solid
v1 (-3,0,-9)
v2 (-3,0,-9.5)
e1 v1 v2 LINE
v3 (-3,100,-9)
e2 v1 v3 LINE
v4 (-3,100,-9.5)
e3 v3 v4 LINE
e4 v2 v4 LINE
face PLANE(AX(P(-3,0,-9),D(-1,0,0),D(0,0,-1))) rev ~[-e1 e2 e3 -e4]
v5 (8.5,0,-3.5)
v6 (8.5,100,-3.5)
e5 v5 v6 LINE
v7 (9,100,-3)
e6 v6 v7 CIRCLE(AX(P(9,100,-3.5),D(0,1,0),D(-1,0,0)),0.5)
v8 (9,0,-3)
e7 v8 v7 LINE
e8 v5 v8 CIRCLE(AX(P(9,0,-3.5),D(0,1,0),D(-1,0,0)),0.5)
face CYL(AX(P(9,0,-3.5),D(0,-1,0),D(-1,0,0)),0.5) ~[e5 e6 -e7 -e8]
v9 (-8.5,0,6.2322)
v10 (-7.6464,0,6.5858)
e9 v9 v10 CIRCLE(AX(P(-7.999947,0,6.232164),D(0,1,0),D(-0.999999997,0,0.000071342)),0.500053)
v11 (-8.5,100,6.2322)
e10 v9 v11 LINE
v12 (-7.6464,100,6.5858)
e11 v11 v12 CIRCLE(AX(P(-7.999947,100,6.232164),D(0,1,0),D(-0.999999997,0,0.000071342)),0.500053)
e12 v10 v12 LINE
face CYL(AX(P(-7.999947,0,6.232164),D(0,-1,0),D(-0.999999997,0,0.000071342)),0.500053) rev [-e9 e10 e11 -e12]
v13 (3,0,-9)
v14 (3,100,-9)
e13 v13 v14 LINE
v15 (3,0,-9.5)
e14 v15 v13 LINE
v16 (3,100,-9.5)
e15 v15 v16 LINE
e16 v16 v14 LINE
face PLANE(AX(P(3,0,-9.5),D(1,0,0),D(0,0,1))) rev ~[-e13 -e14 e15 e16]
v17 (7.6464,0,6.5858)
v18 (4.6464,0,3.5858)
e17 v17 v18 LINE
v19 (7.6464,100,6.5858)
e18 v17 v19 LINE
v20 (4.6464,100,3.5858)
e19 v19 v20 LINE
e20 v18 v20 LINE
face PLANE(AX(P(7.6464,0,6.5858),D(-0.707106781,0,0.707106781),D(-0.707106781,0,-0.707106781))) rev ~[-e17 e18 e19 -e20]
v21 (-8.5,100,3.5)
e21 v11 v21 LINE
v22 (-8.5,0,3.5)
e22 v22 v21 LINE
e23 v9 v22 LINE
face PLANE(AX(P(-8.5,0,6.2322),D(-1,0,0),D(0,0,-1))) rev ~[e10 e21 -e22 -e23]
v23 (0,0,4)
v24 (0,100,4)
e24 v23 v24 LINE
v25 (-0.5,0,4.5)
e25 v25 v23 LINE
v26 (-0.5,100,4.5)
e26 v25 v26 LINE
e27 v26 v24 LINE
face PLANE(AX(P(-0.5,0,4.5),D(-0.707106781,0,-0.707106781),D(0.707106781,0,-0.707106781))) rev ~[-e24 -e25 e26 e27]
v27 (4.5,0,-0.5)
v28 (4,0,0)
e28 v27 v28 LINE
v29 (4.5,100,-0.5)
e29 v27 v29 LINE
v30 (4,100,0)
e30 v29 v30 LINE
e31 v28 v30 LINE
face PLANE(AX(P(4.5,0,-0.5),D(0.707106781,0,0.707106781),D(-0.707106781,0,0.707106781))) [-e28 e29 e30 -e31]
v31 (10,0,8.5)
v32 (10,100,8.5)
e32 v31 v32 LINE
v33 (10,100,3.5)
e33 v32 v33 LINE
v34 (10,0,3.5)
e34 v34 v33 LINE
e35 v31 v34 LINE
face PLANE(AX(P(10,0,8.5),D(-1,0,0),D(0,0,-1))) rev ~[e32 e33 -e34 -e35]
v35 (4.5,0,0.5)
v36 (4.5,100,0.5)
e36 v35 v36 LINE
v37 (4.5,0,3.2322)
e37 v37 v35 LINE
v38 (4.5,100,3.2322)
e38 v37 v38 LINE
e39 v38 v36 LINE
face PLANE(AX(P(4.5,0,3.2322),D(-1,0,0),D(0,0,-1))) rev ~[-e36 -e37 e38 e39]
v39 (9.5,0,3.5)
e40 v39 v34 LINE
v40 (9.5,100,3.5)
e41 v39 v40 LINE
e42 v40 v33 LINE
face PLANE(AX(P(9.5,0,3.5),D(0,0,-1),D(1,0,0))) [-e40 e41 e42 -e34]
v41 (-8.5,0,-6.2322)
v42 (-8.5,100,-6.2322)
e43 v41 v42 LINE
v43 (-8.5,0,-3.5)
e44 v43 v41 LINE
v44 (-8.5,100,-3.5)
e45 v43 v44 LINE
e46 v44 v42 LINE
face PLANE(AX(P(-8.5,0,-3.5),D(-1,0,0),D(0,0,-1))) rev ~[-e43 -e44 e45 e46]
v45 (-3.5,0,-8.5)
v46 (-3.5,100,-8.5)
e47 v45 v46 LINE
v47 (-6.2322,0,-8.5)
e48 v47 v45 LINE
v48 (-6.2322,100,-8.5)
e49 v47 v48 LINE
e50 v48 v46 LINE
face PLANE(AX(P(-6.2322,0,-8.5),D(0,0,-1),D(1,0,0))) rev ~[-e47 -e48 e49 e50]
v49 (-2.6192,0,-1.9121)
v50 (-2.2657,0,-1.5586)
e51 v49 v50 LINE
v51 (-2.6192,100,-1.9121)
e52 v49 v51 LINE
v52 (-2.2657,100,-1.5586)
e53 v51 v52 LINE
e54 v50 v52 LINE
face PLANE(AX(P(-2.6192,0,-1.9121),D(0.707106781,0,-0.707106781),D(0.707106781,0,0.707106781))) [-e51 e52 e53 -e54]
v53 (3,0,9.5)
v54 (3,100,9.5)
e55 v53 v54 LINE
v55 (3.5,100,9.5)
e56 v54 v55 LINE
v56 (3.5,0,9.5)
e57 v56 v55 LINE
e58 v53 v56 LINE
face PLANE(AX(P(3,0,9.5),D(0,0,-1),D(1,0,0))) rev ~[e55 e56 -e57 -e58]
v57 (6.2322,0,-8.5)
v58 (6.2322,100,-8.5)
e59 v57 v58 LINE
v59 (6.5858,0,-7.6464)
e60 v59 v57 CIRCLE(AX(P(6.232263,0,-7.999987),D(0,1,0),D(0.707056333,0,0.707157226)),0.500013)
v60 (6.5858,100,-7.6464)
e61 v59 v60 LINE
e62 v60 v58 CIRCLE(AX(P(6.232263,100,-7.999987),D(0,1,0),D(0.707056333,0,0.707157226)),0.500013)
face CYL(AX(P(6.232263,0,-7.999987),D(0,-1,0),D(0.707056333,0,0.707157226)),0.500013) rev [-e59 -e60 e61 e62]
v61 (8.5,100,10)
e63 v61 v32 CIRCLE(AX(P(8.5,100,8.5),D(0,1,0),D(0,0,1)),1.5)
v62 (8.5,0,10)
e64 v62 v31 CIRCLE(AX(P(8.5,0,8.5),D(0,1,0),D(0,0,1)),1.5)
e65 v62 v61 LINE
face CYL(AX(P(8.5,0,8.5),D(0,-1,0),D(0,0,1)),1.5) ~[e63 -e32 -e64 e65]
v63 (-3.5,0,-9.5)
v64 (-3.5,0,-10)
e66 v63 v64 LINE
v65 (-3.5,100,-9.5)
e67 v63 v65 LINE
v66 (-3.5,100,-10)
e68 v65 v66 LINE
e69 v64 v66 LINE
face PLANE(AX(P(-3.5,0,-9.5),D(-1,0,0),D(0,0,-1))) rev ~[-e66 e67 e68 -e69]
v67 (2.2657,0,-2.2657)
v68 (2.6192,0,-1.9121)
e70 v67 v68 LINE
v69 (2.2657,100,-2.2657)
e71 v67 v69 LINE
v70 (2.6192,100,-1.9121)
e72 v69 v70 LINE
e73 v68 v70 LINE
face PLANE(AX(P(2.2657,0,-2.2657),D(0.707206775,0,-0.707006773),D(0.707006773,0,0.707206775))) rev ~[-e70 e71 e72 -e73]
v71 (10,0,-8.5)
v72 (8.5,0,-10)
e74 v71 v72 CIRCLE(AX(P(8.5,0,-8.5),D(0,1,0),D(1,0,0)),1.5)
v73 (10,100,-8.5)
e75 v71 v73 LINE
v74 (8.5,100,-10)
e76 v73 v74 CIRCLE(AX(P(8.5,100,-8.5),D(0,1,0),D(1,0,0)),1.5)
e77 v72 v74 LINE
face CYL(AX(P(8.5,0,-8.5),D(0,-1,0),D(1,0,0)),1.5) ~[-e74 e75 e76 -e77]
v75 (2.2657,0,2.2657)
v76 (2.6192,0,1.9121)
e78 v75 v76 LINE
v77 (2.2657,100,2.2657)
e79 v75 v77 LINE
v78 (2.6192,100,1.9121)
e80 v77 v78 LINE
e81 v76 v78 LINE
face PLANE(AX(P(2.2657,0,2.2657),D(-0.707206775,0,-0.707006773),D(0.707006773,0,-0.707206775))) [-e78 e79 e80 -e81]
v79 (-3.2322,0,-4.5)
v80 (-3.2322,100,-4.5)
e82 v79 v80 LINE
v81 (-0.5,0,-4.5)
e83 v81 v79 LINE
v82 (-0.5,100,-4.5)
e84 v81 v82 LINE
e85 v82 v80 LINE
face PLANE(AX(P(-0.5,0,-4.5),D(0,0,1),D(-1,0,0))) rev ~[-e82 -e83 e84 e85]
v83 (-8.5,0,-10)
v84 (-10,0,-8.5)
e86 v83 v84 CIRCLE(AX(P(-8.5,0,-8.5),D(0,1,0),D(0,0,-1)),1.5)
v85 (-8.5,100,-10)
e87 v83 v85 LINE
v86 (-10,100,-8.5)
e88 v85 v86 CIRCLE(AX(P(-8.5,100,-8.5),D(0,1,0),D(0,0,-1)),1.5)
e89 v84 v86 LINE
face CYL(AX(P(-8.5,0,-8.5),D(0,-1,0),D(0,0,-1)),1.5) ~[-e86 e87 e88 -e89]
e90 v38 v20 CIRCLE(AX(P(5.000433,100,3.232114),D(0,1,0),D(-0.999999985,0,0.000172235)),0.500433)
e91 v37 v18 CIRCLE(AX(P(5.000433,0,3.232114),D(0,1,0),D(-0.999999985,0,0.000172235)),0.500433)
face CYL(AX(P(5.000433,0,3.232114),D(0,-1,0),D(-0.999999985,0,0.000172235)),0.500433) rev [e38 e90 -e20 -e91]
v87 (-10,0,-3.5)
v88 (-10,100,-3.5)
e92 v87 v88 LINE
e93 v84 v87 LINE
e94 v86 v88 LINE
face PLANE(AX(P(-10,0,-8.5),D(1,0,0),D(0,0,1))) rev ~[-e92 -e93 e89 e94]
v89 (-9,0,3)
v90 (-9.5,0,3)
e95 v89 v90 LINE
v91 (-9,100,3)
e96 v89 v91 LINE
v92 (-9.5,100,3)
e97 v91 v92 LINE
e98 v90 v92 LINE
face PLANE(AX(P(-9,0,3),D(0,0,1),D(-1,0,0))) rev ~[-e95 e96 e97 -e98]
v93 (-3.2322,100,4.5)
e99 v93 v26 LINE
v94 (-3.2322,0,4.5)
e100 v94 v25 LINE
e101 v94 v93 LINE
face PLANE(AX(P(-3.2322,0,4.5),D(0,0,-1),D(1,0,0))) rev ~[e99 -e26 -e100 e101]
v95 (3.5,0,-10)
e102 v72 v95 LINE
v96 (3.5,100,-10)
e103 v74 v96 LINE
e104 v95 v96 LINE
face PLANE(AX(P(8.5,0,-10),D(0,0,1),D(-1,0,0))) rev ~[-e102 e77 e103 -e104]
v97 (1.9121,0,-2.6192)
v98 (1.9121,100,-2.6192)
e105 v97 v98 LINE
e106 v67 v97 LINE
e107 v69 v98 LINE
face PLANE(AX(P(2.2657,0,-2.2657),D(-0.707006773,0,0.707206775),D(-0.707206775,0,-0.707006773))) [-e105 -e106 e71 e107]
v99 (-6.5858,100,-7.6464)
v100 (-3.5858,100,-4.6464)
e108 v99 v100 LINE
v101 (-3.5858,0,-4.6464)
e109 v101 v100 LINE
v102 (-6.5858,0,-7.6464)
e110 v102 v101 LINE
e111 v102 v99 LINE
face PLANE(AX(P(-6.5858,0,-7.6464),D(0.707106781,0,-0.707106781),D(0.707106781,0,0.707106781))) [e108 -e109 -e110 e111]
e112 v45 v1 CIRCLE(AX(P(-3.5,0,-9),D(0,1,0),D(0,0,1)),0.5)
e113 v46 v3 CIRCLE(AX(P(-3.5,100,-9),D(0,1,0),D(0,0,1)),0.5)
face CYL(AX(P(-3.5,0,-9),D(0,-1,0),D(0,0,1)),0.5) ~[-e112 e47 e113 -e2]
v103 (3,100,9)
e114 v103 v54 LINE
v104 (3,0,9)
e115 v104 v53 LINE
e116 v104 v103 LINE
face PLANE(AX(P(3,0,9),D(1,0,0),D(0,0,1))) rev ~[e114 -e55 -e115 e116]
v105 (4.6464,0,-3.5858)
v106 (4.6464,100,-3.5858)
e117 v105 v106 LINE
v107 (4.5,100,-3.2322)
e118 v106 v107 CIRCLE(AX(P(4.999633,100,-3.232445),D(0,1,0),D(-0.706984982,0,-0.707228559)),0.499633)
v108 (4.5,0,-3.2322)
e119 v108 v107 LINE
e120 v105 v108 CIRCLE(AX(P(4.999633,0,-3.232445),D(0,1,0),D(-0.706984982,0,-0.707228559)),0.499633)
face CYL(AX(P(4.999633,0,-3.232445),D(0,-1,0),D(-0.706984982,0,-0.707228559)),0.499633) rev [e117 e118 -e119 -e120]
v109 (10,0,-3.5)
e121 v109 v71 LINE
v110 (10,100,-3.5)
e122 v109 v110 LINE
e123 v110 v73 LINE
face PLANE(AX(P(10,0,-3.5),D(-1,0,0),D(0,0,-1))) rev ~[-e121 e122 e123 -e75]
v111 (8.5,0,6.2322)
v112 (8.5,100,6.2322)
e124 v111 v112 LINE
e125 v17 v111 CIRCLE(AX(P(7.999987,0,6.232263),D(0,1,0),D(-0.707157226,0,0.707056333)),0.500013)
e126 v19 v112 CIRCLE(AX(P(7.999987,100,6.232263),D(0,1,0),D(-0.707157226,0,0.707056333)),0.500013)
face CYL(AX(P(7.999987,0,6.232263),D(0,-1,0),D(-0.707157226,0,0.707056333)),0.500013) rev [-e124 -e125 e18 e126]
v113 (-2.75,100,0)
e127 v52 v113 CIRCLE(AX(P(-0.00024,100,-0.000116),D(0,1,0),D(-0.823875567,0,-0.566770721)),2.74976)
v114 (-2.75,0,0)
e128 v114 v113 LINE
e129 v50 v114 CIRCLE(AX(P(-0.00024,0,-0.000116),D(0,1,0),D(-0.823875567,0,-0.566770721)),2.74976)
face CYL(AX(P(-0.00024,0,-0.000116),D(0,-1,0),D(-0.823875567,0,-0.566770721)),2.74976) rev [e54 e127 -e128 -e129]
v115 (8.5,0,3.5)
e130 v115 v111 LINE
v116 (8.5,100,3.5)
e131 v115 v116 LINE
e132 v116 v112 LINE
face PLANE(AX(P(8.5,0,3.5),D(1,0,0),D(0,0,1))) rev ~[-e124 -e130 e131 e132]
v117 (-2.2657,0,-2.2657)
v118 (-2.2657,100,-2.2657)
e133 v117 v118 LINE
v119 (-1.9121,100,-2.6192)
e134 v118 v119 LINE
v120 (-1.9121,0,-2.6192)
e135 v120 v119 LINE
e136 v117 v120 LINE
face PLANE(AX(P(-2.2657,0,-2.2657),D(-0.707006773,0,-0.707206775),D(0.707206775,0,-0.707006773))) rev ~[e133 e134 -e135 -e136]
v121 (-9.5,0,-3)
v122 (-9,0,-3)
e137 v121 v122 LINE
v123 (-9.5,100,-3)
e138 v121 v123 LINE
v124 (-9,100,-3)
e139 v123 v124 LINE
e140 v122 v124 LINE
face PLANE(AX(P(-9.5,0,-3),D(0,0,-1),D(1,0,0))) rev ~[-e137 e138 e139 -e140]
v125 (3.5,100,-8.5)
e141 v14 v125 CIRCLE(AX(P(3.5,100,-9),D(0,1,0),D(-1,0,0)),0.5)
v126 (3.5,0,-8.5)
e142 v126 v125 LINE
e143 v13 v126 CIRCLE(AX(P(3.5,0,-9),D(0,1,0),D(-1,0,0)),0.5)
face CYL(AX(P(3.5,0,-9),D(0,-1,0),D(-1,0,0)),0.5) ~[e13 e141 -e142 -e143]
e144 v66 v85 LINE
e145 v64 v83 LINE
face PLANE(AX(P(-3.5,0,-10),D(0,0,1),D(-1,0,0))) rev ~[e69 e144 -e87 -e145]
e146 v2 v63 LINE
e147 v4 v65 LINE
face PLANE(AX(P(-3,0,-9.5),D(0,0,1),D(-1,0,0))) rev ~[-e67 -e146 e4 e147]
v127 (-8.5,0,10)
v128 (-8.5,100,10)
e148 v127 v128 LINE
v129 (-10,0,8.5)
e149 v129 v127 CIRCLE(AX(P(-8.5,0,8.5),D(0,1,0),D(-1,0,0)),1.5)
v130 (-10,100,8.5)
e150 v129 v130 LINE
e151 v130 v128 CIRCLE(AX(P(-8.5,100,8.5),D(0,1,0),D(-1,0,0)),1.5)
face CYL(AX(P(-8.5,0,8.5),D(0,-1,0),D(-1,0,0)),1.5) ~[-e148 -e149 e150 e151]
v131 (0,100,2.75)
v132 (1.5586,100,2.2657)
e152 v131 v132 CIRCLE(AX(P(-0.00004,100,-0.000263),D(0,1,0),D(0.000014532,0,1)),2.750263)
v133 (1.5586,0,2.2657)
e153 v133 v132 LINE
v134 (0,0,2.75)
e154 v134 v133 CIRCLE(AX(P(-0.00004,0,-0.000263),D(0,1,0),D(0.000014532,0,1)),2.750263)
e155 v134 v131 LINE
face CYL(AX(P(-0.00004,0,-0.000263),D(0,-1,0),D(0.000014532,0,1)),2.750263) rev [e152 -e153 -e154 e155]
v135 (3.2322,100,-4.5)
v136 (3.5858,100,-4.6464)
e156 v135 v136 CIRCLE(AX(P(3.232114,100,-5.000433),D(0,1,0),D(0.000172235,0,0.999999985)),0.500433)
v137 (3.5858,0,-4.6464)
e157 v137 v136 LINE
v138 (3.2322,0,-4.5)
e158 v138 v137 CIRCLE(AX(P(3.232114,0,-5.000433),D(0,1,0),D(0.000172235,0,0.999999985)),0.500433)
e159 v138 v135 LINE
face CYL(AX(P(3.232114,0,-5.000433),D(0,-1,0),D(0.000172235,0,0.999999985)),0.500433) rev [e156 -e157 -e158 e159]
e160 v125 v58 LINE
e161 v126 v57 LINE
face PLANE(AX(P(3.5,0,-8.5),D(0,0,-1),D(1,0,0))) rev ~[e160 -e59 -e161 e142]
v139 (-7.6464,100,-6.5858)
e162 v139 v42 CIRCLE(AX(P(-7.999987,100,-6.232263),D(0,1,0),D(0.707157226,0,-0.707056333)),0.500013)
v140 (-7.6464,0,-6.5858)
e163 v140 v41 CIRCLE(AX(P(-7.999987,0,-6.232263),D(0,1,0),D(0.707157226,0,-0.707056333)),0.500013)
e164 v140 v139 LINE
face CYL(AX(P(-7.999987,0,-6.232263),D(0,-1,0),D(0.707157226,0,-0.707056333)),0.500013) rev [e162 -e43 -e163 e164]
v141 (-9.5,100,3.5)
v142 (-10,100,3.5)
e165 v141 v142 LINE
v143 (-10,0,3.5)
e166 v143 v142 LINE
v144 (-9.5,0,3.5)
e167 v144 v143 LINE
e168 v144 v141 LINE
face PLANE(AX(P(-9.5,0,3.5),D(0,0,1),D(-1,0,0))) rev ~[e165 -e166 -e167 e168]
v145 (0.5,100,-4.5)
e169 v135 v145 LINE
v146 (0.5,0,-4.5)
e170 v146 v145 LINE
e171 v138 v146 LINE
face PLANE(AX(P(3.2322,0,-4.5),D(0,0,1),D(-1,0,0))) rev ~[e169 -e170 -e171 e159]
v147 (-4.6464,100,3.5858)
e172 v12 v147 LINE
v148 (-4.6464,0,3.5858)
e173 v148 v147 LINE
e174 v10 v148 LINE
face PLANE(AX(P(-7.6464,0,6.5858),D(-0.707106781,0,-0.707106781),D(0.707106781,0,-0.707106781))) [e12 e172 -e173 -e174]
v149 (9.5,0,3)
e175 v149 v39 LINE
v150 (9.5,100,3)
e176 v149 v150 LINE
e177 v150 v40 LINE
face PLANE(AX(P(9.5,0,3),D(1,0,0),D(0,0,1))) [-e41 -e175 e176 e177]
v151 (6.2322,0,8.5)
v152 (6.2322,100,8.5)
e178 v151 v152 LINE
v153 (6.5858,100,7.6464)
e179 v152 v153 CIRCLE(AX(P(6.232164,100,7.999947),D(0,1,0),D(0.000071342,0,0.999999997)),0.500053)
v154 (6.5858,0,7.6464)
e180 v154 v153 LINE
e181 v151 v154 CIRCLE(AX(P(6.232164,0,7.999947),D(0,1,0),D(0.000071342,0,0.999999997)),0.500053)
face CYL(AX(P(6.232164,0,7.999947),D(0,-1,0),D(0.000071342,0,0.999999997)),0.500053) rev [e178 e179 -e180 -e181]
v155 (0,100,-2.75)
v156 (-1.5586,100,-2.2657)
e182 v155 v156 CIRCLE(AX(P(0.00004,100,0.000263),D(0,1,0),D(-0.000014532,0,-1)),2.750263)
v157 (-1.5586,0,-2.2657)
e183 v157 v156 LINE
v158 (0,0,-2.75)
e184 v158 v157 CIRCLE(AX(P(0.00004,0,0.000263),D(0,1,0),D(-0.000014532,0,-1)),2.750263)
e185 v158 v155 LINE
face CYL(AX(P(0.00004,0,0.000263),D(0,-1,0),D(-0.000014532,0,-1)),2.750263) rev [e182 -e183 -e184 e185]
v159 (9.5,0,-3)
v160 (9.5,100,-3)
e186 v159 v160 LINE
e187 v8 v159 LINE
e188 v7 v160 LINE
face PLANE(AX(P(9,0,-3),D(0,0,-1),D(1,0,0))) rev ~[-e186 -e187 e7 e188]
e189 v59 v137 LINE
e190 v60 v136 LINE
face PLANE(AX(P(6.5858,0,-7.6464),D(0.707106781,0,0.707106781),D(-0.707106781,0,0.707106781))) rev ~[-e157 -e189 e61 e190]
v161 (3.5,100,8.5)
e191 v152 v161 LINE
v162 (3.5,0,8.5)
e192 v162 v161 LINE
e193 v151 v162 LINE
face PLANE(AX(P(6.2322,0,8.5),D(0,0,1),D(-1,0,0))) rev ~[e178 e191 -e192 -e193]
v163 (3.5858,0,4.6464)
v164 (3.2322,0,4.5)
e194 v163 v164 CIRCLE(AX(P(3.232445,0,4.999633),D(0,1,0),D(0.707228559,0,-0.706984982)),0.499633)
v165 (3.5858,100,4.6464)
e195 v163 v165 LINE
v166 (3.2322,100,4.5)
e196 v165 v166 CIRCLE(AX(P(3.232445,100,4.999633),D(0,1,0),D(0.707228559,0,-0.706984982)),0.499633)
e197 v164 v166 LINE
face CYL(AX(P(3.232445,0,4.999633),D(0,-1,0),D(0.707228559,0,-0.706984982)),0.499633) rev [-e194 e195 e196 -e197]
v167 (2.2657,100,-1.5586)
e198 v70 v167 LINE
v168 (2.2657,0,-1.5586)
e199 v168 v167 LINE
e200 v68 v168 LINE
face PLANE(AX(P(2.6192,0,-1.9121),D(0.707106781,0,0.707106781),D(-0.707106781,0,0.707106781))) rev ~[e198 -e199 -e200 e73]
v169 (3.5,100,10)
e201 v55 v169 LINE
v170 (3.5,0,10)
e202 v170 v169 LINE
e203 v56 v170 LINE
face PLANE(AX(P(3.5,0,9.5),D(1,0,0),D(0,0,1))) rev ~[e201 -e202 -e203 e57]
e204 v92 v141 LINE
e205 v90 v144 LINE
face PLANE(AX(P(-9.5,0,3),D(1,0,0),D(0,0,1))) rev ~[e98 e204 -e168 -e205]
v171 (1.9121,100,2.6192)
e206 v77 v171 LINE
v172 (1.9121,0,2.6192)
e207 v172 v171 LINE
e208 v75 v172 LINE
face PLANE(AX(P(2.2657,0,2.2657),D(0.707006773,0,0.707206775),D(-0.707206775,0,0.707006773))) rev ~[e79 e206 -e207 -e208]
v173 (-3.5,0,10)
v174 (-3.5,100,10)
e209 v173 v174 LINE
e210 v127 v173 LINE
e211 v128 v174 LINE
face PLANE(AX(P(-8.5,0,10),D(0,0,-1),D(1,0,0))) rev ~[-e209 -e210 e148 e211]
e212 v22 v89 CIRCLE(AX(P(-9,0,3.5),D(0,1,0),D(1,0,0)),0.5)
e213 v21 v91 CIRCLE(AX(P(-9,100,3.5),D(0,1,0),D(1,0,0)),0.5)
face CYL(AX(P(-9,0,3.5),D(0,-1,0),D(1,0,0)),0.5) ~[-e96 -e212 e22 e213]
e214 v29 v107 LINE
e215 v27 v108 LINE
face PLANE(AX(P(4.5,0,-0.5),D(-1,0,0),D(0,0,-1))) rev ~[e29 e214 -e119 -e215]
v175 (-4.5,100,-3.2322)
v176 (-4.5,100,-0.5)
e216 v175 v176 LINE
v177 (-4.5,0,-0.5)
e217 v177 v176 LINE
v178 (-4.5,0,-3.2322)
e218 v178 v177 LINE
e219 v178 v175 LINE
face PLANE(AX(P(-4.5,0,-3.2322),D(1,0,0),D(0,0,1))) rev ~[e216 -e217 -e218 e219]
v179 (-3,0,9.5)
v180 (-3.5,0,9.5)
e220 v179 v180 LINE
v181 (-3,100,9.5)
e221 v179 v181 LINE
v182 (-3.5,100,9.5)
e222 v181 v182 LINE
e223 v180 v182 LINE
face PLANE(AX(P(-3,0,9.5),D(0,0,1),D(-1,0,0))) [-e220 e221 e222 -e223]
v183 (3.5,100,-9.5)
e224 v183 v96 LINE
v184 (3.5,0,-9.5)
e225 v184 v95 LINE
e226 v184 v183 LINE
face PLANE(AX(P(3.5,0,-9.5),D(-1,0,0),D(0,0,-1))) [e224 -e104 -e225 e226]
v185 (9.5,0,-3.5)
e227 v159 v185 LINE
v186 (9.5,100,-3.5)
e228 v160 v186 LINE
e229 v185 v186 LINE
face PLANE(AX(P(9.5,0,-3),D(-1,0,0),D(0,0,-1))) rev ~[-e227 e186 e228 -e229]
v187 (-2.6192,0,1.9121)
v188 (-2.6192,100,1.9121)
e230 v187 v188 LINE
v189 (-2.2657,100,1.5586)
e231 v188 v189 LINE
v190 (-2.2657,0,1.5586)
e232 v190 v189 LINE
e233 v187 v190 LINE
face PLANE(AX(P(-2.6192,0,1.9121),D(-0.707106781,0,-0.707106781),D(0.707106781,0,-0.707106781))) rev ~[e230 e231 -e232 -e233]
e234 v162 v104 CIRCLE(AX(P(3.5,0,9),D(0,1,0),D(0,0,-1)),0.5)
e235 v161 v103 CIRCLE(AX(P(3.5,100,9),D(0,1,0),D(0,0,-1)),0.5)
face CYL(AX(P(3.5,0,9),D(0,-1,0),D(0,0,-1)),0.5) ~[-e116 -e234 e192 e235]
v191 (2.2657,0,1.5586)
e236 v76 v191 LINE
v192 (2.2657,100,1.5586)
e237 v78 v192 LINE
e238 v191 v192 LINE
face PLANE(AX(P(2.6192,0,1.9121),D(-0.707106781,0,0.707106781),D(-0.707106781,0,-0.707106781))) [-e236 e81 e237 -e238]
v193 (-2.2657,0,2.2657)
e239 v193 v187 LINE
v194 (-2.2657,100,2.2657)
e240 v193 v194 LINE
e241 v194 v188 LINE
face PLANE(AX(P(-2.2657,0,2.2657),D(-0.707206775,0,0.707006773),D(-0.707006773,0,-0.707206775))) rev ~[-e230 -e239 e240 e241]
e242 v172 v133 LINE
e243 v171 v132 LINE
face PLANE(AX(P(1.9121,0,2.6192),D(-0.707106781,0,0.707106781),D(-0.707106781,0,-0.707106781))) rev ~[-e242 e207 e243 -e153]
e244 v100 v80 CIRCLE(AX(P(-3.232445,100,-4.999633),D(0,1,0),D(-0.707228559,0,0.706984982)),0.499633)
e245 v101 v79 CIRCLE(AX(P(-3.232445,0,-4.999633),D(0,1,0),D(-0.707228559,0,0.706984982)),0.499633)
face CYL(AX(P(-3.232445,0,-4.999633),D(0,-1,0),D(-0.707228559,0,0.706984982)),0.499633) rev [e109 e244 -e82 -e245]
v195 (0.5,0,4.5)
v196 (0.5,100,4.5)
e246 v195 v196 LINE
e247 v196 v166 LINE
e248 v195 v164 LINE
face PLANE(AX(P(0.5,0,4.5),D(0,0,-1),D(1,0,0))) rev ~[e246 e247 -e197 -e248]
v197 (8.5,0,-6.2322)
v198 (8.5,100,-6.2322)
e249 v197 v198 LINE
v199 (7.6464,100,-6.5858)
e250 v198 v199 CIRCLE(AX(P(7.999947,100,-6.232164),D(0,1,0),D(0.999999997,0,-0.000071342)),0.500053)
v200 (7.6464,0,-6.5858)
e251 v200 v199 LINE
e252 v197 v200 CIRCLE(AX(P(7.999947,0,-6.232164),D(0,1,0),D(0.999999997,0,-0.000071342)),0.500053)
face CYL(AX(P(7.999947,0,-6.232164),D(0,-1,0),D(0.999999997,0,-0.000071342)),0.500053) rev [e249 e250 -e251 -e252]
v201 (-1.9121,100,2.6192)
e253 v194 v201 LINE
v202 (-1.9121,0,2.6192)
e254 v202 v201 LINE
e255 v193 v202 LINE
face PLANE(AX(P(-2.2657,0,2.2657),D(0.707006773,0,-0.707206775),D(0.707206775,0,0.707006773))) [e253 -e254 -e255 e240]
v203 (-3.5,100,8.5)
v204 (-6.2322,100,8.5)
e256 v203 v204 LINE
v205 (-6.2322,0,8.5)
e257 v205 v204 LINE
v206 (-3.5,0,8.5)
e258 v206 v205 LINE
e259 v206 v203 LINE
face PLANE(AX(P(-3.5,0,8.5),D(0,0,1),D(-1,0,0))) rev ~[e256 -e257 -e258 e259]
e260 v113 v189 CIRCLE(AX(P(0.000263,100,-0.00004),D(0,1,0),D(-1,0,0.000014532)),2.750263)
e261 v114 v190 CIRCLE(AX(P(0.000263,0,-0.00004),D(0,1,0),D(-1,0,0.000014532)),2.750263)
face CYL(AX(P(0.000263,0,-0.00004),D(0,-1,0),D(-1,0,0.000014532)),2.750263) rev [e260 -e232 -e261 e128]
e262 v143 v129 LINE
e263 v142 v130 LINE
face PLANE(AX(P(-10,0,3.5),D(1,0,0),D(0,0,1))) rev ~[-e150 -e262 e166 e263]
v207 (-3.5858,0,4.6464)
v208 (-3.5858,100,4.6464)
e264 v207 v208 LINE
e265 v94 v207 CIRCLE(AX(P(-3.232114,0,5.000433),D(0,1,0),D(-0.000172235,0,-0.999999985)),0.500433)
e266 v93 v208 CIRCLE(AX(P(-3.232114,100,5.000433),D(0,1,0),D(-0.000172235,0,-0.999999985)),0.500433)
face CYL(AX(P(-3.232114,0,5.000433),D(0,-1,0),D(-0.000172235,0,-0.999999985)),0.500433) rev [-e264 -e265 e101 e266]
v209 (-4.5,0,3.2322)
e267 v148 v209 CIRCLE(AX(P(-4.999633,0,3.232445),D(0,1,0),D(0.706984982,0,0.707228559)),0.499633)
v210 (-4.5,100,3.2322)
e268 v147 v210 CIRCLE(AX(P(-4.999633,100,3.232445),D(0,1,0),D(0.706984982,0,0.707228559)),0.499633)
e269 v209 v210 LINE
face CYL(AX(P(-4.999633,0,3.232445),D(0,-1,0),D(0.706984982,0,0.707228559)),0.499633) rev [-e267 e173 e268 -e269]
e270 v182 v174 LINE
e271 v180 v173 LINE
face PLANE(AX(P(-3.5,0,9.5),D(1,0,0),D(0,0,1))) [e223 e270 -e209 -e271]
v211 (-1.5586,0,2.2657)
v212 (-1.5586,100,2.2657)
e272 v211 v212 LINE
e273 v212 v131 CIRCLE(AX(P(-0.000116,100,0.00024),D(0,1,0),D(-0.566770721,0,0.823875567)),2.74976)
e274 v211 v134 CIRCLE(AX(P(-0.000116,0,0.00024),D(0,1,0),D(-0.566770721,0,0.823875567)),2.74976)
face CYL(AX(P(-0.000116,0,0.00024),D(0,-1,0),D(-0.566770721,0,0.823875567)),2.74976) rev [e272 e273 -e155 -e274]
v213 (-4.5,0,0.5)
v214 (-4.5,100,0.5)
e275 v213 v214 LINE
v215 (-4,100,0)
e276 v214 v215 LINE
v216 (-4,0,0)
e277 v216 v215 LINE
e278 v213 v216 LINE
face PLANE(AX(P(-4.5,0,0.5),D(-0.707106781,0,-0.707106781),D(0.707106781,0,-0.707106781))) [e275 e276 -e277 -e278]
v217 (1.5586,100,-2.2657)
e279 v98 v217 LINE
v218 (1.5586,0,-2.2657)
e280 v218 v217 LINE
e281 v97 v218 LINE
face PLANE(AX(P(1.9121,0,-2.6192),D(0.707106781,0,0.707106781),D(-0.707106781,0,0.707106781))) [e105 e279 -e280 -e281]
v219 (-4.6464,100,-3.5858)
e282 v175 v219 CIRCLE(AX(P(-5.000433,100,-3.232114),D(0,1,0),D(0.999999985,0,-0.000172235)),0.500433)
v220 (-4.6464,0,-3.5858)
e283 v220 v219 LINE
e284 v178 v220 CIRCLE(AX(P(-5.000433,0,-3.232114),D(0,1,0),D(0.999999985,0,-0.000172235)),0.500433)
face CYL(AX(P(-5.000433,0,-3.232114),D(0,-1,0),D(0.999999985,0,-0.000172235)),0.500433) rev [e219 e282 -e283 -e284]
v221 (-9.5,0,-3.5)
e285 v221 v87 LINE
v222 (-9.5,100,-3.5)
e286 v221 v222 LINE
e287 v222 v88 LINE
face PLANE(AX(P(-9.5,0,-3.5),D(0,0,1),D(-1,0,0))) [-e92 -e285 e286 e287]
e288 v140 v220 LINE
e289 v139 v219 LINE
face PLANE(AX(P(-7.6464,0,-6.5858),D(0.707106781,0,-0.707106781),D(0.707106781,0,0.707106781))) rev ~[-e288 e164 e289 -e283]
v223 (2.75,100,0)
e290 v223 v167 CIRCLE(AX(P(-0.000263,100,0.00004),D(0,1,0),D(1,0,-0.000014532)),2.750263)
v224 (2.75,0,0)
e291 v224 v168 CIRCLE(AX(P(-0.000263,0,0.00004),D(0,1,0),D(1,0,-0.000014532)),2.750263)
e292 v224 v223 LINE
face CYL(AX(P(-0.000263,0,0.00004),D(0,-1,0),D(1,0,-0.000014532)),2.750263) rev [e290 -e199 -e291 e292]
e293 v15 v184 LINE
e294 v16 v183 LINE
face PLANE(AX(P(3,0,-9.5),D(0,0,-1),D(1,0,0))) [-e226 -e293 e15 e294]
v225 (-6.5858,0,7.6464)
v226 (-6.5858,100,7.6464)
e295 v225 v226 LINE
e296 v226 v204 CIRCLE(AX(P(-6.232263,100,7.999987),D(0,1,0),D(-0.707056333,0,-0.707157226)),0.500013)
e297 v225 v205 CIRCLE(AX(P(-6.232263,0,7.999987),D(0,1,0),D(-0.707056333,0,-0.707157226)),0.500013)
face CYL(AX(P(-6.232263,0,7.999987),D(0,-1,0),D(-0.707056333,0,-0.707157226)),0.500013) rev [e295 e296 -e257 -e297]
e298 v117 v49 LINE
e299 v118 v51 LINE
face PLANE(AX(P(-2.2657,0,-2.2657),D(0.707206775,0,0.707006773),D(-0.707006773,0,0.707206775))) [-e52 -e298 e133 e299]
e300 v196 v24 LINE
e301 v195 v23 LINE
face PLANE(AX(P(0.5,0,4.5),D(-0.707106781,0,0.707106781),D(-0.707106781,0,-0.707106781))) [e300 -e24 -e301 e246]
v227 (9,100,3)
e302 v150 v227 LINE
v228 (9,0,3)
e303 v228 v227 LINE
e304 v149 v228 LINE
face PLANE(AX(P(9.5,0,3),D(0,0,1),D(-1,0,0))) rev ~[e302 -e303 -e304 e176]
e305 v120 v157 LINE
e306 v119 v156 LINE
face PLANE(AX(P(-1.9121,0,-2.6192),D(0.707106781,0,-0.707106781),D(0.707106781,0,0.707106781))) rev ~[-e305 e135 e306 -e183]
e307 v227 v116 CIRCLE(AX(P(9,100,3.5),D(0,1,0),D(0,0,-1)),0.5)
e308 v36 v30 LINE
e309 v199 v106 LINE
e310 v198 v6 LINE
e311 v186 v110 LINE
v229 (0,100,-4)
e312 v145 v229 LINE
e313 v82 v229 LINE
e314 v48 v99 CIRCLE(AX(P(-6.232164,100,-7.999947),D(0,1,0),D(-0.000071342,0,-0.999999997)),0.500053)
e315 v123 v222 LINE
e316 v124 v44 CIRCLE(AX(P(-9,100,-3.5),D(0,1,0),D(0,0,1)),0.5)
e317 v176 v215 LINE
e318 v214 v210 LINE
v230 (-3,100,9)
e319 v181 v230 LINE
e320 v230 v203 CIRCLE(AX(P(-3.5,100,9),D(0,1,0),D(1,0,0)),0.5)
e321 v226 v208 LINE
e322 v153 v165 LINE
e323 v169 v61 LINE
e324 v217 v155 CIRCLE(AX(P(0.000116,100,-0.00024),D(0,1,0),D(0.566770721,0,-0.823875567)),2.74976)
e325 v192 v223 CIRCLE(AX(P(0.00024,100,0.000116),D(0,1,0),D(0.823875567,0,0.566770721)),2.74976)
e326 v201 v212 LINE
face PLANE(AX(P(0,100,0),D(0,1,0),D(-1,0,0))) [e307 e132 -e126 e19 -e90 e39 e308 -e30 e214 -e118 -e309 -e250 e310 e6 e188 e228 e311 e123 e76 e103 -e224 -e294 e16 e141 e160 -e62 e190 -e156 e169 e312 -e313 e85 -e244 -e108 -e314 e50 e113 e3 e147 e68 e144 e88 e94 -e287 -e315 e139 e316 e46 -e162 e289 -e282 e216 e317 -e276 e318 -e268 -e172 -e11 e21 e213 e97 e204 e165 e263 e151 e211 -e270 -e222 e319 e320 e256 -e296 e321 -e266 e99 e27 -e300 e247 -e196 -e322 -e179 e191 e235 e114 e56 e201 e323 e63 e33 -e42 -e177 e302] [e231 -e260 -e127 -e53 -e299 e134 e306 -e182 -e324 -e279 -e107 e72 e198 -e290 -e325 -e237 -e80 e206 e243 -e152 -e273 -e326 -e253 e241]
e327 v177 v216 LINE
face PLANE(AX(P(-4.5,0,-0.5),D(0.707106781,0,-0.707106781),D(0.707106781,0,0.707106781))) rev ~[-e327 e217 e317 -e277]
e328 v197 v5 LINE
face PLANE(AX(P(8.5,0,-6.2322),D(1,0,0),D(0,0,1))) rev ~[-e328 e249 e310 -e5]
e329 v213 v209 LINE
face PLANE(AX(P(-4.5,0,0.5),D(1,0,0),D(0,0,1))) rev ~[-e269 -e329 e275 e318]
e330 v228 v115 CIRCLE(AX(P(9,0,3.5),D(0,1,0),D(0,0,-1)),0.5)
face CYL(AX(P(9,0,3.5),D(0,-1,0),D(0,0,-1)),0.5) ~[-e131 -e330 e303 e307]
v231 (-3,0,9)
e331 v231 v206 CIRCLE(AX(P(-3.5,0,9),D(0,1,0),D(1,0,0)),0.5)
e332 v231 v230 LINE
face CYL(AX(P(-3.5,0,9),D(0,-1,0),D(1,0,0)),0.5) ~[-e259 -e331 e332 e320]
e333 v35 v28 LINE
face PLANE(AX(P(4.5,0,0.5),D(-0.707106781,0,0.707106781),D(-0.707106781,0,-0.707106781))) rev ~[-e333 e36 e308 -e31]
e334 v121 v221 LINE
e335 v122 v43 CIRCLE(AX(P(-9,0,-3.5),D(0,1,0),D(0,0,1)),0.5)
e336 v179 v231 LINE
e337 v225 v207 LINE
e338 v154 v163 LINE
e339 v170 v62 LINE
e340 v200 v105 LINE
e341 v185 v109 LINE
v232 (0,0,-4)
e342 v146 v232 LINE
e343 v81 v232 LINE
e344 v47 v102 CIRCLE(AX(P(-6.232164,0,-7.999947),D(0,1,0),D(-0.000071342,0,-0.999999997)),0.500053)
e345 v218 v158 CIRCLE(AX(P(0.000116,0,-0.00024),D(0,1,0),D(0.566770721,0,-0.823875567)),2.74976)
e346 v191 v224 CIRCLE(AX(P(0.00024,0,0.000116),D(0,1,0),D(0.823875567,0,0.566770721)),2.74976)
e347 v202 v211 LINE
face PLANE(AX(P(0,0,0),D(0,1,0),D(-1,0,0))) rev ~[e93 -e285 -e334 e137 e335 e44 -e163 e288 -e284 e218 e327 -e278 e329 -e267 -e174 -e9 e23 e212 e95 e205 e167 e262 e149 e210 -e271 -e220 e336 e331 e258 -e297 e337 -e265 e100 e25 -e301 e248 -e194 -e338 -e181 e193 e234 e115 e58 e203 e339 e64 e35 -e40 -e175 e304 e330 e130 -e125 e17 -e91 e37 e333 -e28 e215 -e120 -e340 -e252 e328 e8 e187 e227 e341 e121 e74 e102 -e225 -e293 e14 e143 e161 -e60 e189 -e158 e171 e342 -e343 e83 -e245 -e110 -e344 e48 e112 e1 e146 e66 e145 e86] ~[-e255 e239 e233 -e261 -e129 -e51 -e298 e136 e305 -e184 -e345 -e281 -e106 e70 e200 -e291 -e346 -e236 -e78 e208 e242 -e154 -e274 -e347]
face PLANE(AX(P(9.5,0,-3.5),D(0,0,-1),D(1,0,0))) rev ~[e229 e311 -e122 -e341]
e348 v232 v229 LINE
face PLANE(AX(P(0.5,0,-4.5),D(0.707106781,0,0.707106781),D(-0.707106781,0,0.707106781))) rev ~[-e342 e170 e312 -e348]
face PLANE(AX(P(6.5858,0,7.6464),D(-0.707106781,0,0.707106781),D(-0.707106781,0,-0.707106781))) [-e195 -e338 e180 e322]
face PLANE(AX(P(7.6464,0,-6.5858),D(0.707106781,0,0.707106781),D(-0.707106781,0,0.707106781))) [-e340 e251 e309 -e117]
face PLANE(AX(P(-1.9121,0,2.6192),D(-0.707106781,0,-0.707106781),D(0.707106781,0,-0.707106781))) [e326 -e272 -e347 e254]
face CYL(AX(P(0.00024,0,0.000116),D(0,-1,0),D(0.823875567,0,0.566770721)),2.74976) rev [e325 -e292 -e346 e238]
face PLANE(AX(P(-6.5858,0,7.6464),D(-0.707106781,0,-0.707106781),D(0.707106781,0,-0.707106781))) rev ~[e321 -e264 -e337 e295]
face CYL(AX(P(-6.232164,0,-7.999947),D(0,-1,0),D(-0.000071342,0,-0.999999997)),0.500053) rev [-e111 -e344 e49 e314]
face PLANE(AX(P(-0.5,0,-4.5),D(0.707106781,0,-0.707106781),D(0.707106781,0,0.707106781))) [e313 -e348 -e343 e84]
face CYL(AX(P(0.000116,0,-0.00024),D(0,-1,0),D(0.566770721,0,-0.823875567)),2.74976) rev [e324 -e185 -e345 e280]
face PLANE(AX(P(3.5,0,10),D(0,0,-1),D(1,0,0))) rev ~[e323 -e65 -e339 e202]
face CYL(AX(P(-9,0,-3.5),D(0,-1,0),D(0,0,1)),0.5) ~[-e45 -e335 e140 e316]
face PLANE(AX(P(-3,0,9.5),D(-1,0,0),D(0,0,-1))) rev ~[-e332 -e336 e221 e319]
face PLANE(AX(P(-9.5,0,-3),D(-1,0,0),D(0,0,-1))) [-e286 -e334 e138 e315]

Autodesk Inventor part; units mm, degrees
ref_plane "YZ Plane" through (0, 0, 0) normal (1, 0, 0) x (0, 1, 0)
ref_plane "Start Plane" through (0, 0, 0) normal (0, 1, 0) x (-1, 0, 0)
ref_plane "End Plane" through (0, 100, 0) normal (0, 1, 0) x (-1, 0, 0)
sketch "Sketch" plane through (0, 0, 0) normal (0, 1, 0) x (-1, 0, 0)
  line L0 (8.5, 10) -> (3.5, 10)
  line L1 (4.5, 0.5) -> (4.5, 3.2322)
  line L2 (3.2322, 4.5) -> (0.5, 4.5)
  line L3 (3, 9.5) -> (3, 9)
  line L4 (3.5, 8.5) -> (6.2322, 8.5)
  line L5 (8.5, 6.2322) -> (8.5, 3.5)
  line L6 (9, 3) -> (9.5, 3)
  line L7 (6.5858, 7.6464) -> (3.5858, 4.6464)
  line L8 (7.6464, 6.5858) -> (4.6464, 3.5858)
  line L9 (10, 10) -> (0, 0) construction
  line L10 (0.5, 4.5) -> (0, 4)
  line L11 (3, 9.5) -> (3.5, 9.5)
  line L12 (3.5, 9.5) -> (3.5, 10)
  line L13 (9.5, 3) -> (9.5, 3.5)
  line L14 (9.5, 3.5) -> (10, 3.5)
  line L15 (10, 3.5) -> (10, 10)
  line L16 (0, 0) -> (10, 0) construction
  line L17 (10, 0) -> (10, 8.5) construction
  line L18 (0, 0) -> (0, 10) construction
  line L19 (0, 10) -> (10, 10) construction
  line L20 (4.5, 0.5) -> (4, 0)
  arc A0 (10, 8.5) -> (8.5, 10) centre (8.5, 8.5) ccw
  arc A1 (3, 9) -> (3.5, 8.5) centre (3.5, 9) ccw
  arc A2 (6.5858, 7.6464) -> (6.2322, 8.5) centre (6.2322, 8) ccw
  arc A3 (8.5, 6.2322) -> (7.6464, 6.5858) centre (8, 6.2322) ccw
  arc A4 (8.5, 3.5) -> (9, 3) centre (9, 3.5) ccw
  arc A5 (4.6464, 3.5858) -> (4.5, 3.2322) centre (5, 3.2322) ccw
  arc A6 (3.2322, 4.5) -> (3.5858, 4.6464) centre (3.2322, 5) ccw
  line L21 (2.2657, 2.2657) -> (1.9121, 2.6192)
  line L22 (2.2657, 2.2657) -> (2.6192, 1.9121)
  line L23 (1.9121, 2.6192) -> (1.5586, 2.2657)
  line L24 (2.6192, 1.9121) -> (2.2657, 1.5586)
  arc A7 (2.75, 0) -> (2.2657, 1.5586) centre (0, 0) ccw
  arc A8 (1.5586, 2.2657) -> (0, 2.75) centre (0, 0) ccw
  line L25 (0, 0) -> (10, 0) construction
  line L26 (10, -10) -> (0, 0) construction
  line L27 (0, 0) -> (0, -10) construction
  line L28 (0, -10) -> (8.5, -10) construction
  line L29 (0.5, -4.5) -> (3.2322, -4.5)
  line L30 (0.5, -4.5) -> (0, -4)
  line L31 (1.9121, -2.6192) -> (1.5586, -2.2657)
  arc A9 (0, -2.75) -> (1.5586, -2.2657) centre (0, 0) ccw
  arc A10 (7.6464, -6.5858) -> (8.5, -6.2322) centre (8, -6.2322) ccw
  line L32 (8.5, -3.5) -> (8.5, -6.2322)
  line L33 (10, -8.5) -> (10, -3.5)
  line L34 (3.5, -10) -> (10, -10)
  line L35 (6.5858, -7.6464) -> (3.5858, -4.6464)
  line L36 (7.6464, -6.5858) -> (4.6464, -3.5858)
  line L37 (10, 0) -> (10, -10) construction
  line L38 (4.5, -3.2322) -> (4.5, -0.5)
  arc A11 (8.5, -10) -> (10, -8.5) centre (8.5, -8.5) ccw
  line L39 (6.2322, -8.5) -> (3.5, -8.5)
  arc A12 (3.5, -8.5) -> (3, -9) centre (3.5, -9) ccw
  arc A13 (6.2322, -8.5) -> (6.5858, -7.6464) centre (6.2322, -8) ccw
  line L40 (3, -9.5) -> (3.5, -9.5)
  line L41 (3.5, -9.5) -> (3.5, -10)
  line L42 (9.5, -3) -> (9, -3)
  line L43 (4.5, -0.5) -> (4, 0)
  line L44 (9.5, -3) -> (9.5, -3.5)
  line L45 (9.5, -3.5) -> (10, -3.5)
  arc A14 (4.5, -3.2322) -> (4.6464, -3.5858) centre (5, -3.2322) ccw
  arc A15 (9, -3) -> (8.5, -3.5) centre (9, -3.5) ccw
  arc A16 (3.5858, -4.6464) -> (3.2322, -4.5) centre (3.2322, -5) ccw
  line L46 (3, -9) -> (3, -9.5)
  line L47 (2.2657, -2.2657) -> (2.6192, -1.9121)
  line L48 (2.2657, -2.2657) -> (1.9121, -2.6192)
  line L49 (2.6192, -1.9121) -> (2.2657, -1.5586)
  arc A17 (2.2657, -1.5586) -> (2.75, 0) centre (0, 0) ccw
  line L50 (0, 0) -> (0, -10) construction
  line L51 (-10, -10) -> (0, 0) construction
  line L52 (0, 0) -> (-10, 0) construction
  line L53 (-10, 0) -> (-10, -8.5) construction
  line L54 (-4.5, -0.5) -> (-4.5, -3.2322)
  line L55 (-4.5, -0.5) -> (-4, 0)
  line L56 (-2.6192, -1.9121) -> (-2.2657, -1.5586)
  arc A18 (-2.75, 0) -> (-2.2657, -1.5586) centre (0, 0) ccw
  arc A19 (-6.5858, -7.6464) -> (-6.2322, -8.5) centre (-6.2322, -8) ccw
  line L57 (-3.5, -8.5) -> (-6.2322, -8.5)
  line L58 (-8.5, -10) -> (-3.5, -10)
  line L59 (-10, -3.5) -> (-10, -10)
  line L60 (-7.6464, -6.5858) -> (-4.6464, -3.5858)
  line L61 (-6.5858, -7.6464) -> (-3.5858, -4.6464)
  line L62 (0, -10) -> (-10, -10) construction
  line L63 (-3.2322, -4.5) -> (-0.5, -4.5)
  arc A20 (-10, -8.5) -> (-8.5, -10) centre (-8.5, -8.5) ccw
  line L64 (-8.5, -6.2322) -> (-8.5, -3.5)
  arc A21 (-8.5, -3.5) -> (-9, -3) centre (-9, -3.5) ccw
  arc A22 (-8.5, -6.2322) -> (-7.6464, -6.5858) centre (-8, -6.2322) ccw
  line L65 (-9.5, -3) -> (-9.5, -3.5)
  line L66 (-9.5, -3.5) -> (-10, -3.5)
  line L67 (-3, -9.5) -> (-3, -9)
  line L68 (-0.5, -4.5) -> (0, -4)
  line L69 (-3, -9.5) -> (-3.5, -9.5)
  line L70 (-3.5, -9.5) -> (-3.5, -10)
  arc A23 (-3.2322, -4.5) -> (-3.5858, -4.6464) centre (-3.2322, -5) ccw
  arc A24 (-3, -9) -> (-3.5, -8.5) centre (-3.5, -9) ccw
  arc A25 (-4.6464, -3.5858) -> (-4.5, -3.2322) centre (-5, -3.2322) ccw
  line L71 (-9, -3) -> (-9.5, -3)
  line L72 (-2.2657, -2.2657) -> (-1.9121, -2.6192)
  line L73 (-2.2657, -2.2657) -> (-2.6192, -1.9121)
  line L74 (-1.9121, -2.6192) -> (-1.5586, -2.2657)
  arc A26 (-1.5586, -2.2657) -> (0, -2.75) centre (0, 0) ccw
  line L75 (0, 0) -> (-10, 0) construction
  line L76 (-10, 10) -> (0, 0) construction
  line L77 (0, 0) -> (0, 10) construction
  line L78 (0, 10) -> (-8.5, 10) construction
  line L79 (-0.5, 4.5) -> (-3.2322, 4.5)
  line L80 (-0.5, 4.5) -> (0, 4)
  line L81 (-1.9121, 2.6192) -> (-1.5586, 2.2657)
  arc A27 (0, 2.75) -> (-1.5586, 2.2657) centre (0, 0) ccw
  arc A28 (-7.6464, 6.5858) -> (-8.5, 6.2322) centre (-8, 6.2322) ccw
  line L82 (-8.5, 3.5) -> (-8.5, 6.2322)
  line L83 (-10, 8.5) -> (-10, 3.5)
  line L84 (-3.5, 10) -> (-10, 10)
  line L85 (-6.5858, 7.6464) -> (-3.5858, 4.6464)
  line L86 (-7.6464, 6.5858) -> (-4.6464, 3.5858)
  line L87 (-10, 0) -> (-10, 10) construction
  line L88 (-4.5, 3.2322) -> (-4.5, 0.5)
  arc A29 (-8.5, 10) -> (-10, 8.5) centre (-8.5, 8.5) ccw
  line L89 (-6.2322, 8.5) -> (-3.5, 8.5)
  arc A30 (-3.5, 8.5) -> (-3, 9) centre (-3.5, 9) ccw
  arc A31 (-6.2322, 8.5) -> (-6.5858, 7.6464) centre (-6.2322, 8) ccw
  line L90 (-3, 9.5) -> (-3.5, 9.5)
  line L91 (-3.5, 9.5) -> (-3.5, 10)
  line L92 (-9.5, 3) -> (-9, 3)
  line L93 (-4.5, 0.5) -> (-4, 0)
  line L94 (-9.5, 3) -> (-9.5, 3.5)
  line L95 (-9.5, 3.5) -> (-10, 3.5)
  arc A32 (-4.5, 3.2322) -> (-4.6464, 3.5858) centre (-5, 3.2322) ccw
  arc A33 (-9, 3) -> (-8.5, 3.5) centre (-9, 3.5) ccw
  arc A34 (-3.5858, 4.6464) -> (-3.2322, 4.5) centre (-3.2322, 5) ccw
  line L96 (-3, 9) -> (-3, 9.5)
  line L97 (-2.2657, 2.2657) -> (-2.6192, 1.9121)
  line L98 (-2.2657, 2.2657) -> (-1.9121, 2.6192)
  line L99 (-2.6192, 1.9121) -> (-2.2657, 1.5586)
  arc A35 (-2.2657, 1.5586) -> (-2.75, 0) centre (0, 0) ccw
  point P0 (0, 2.75)
  point P1 (-4, 0)
  point P2 (0, -4)
  dimension "d4" = 5.5
  dimension "d5" = 1.5
  dimension "d9" = 1.5
  dimension "d13" = 0.5
  dimension "d14" = 0.5
  dimension "d21" = 0.5
  dimension "d22" = 0.5
  dimension "d23" = 0.5
  dimension "d25" = 1.5
  dimension "d26" = 10
  dimension "d27" = 10
  dimension "d28" = 3
  dimension "d29" = 3
  dimension "d30" = 5.5
  dimension "d31" = 1.5
  dimension "d32" = 0.5
  dimension "d33" = 0.5
  dimension "d34" = 0.5
  dimension "d35" = 0.5
  dimension "d36" = 0.5
  dimension "d37" = 0.5
  dimension "d38" = 0.5
  dimension "d39" = 0.5
  dimension "d40" = 0.5
  dimension "d41" = 2.75
  dimension "d42" = 2.75
  dimension "d43" = 0.5
  dimension "d46" = 360
extrude "Body" add sketch "Sketch" along normal up to surface (100 mm away) from surface at 0
sketch "Sketch2" plane through (0, 0, 0) normal (0, 1, 0) x (-1, 0, 0)
  line L0 (0, 0) -> (10, 0)
ref_plane "Work Plane3" through (0, 0, 0) normal (0, 0, -1) x (-1, 0, 0)
sketch "Sketch3" plane through (0, 0, 0) normal (0, 0, -1) x (-1, 0, 0)
  line L0 (-2, 0) -> (12, 0)
  line L1 (-2, 100) -> (12, 100)
  dimension "d55" = 100
equation "\"d4\" = d30"
equation "\"d13\" = d21"
equation "\"d22\" = d21"
equation "\"d23\" = d21"
equation "\"d25\" = d5"
equation "\"d29\" = d28"
equation "\"d39\" = d38"
equation "\"d42\" = d41"
equation "\"d43\" = d40"
equation "\"d6\" = d5"
equation "\"Length\" = 100"
equation "\"G_OFFSET_START\" = 0"
equation "\"G_OFFSET_END\" = 0"
equation "\"G_L\" = d55"
properties part number "20x20_bosch profile" material "Aluminum 6061"
